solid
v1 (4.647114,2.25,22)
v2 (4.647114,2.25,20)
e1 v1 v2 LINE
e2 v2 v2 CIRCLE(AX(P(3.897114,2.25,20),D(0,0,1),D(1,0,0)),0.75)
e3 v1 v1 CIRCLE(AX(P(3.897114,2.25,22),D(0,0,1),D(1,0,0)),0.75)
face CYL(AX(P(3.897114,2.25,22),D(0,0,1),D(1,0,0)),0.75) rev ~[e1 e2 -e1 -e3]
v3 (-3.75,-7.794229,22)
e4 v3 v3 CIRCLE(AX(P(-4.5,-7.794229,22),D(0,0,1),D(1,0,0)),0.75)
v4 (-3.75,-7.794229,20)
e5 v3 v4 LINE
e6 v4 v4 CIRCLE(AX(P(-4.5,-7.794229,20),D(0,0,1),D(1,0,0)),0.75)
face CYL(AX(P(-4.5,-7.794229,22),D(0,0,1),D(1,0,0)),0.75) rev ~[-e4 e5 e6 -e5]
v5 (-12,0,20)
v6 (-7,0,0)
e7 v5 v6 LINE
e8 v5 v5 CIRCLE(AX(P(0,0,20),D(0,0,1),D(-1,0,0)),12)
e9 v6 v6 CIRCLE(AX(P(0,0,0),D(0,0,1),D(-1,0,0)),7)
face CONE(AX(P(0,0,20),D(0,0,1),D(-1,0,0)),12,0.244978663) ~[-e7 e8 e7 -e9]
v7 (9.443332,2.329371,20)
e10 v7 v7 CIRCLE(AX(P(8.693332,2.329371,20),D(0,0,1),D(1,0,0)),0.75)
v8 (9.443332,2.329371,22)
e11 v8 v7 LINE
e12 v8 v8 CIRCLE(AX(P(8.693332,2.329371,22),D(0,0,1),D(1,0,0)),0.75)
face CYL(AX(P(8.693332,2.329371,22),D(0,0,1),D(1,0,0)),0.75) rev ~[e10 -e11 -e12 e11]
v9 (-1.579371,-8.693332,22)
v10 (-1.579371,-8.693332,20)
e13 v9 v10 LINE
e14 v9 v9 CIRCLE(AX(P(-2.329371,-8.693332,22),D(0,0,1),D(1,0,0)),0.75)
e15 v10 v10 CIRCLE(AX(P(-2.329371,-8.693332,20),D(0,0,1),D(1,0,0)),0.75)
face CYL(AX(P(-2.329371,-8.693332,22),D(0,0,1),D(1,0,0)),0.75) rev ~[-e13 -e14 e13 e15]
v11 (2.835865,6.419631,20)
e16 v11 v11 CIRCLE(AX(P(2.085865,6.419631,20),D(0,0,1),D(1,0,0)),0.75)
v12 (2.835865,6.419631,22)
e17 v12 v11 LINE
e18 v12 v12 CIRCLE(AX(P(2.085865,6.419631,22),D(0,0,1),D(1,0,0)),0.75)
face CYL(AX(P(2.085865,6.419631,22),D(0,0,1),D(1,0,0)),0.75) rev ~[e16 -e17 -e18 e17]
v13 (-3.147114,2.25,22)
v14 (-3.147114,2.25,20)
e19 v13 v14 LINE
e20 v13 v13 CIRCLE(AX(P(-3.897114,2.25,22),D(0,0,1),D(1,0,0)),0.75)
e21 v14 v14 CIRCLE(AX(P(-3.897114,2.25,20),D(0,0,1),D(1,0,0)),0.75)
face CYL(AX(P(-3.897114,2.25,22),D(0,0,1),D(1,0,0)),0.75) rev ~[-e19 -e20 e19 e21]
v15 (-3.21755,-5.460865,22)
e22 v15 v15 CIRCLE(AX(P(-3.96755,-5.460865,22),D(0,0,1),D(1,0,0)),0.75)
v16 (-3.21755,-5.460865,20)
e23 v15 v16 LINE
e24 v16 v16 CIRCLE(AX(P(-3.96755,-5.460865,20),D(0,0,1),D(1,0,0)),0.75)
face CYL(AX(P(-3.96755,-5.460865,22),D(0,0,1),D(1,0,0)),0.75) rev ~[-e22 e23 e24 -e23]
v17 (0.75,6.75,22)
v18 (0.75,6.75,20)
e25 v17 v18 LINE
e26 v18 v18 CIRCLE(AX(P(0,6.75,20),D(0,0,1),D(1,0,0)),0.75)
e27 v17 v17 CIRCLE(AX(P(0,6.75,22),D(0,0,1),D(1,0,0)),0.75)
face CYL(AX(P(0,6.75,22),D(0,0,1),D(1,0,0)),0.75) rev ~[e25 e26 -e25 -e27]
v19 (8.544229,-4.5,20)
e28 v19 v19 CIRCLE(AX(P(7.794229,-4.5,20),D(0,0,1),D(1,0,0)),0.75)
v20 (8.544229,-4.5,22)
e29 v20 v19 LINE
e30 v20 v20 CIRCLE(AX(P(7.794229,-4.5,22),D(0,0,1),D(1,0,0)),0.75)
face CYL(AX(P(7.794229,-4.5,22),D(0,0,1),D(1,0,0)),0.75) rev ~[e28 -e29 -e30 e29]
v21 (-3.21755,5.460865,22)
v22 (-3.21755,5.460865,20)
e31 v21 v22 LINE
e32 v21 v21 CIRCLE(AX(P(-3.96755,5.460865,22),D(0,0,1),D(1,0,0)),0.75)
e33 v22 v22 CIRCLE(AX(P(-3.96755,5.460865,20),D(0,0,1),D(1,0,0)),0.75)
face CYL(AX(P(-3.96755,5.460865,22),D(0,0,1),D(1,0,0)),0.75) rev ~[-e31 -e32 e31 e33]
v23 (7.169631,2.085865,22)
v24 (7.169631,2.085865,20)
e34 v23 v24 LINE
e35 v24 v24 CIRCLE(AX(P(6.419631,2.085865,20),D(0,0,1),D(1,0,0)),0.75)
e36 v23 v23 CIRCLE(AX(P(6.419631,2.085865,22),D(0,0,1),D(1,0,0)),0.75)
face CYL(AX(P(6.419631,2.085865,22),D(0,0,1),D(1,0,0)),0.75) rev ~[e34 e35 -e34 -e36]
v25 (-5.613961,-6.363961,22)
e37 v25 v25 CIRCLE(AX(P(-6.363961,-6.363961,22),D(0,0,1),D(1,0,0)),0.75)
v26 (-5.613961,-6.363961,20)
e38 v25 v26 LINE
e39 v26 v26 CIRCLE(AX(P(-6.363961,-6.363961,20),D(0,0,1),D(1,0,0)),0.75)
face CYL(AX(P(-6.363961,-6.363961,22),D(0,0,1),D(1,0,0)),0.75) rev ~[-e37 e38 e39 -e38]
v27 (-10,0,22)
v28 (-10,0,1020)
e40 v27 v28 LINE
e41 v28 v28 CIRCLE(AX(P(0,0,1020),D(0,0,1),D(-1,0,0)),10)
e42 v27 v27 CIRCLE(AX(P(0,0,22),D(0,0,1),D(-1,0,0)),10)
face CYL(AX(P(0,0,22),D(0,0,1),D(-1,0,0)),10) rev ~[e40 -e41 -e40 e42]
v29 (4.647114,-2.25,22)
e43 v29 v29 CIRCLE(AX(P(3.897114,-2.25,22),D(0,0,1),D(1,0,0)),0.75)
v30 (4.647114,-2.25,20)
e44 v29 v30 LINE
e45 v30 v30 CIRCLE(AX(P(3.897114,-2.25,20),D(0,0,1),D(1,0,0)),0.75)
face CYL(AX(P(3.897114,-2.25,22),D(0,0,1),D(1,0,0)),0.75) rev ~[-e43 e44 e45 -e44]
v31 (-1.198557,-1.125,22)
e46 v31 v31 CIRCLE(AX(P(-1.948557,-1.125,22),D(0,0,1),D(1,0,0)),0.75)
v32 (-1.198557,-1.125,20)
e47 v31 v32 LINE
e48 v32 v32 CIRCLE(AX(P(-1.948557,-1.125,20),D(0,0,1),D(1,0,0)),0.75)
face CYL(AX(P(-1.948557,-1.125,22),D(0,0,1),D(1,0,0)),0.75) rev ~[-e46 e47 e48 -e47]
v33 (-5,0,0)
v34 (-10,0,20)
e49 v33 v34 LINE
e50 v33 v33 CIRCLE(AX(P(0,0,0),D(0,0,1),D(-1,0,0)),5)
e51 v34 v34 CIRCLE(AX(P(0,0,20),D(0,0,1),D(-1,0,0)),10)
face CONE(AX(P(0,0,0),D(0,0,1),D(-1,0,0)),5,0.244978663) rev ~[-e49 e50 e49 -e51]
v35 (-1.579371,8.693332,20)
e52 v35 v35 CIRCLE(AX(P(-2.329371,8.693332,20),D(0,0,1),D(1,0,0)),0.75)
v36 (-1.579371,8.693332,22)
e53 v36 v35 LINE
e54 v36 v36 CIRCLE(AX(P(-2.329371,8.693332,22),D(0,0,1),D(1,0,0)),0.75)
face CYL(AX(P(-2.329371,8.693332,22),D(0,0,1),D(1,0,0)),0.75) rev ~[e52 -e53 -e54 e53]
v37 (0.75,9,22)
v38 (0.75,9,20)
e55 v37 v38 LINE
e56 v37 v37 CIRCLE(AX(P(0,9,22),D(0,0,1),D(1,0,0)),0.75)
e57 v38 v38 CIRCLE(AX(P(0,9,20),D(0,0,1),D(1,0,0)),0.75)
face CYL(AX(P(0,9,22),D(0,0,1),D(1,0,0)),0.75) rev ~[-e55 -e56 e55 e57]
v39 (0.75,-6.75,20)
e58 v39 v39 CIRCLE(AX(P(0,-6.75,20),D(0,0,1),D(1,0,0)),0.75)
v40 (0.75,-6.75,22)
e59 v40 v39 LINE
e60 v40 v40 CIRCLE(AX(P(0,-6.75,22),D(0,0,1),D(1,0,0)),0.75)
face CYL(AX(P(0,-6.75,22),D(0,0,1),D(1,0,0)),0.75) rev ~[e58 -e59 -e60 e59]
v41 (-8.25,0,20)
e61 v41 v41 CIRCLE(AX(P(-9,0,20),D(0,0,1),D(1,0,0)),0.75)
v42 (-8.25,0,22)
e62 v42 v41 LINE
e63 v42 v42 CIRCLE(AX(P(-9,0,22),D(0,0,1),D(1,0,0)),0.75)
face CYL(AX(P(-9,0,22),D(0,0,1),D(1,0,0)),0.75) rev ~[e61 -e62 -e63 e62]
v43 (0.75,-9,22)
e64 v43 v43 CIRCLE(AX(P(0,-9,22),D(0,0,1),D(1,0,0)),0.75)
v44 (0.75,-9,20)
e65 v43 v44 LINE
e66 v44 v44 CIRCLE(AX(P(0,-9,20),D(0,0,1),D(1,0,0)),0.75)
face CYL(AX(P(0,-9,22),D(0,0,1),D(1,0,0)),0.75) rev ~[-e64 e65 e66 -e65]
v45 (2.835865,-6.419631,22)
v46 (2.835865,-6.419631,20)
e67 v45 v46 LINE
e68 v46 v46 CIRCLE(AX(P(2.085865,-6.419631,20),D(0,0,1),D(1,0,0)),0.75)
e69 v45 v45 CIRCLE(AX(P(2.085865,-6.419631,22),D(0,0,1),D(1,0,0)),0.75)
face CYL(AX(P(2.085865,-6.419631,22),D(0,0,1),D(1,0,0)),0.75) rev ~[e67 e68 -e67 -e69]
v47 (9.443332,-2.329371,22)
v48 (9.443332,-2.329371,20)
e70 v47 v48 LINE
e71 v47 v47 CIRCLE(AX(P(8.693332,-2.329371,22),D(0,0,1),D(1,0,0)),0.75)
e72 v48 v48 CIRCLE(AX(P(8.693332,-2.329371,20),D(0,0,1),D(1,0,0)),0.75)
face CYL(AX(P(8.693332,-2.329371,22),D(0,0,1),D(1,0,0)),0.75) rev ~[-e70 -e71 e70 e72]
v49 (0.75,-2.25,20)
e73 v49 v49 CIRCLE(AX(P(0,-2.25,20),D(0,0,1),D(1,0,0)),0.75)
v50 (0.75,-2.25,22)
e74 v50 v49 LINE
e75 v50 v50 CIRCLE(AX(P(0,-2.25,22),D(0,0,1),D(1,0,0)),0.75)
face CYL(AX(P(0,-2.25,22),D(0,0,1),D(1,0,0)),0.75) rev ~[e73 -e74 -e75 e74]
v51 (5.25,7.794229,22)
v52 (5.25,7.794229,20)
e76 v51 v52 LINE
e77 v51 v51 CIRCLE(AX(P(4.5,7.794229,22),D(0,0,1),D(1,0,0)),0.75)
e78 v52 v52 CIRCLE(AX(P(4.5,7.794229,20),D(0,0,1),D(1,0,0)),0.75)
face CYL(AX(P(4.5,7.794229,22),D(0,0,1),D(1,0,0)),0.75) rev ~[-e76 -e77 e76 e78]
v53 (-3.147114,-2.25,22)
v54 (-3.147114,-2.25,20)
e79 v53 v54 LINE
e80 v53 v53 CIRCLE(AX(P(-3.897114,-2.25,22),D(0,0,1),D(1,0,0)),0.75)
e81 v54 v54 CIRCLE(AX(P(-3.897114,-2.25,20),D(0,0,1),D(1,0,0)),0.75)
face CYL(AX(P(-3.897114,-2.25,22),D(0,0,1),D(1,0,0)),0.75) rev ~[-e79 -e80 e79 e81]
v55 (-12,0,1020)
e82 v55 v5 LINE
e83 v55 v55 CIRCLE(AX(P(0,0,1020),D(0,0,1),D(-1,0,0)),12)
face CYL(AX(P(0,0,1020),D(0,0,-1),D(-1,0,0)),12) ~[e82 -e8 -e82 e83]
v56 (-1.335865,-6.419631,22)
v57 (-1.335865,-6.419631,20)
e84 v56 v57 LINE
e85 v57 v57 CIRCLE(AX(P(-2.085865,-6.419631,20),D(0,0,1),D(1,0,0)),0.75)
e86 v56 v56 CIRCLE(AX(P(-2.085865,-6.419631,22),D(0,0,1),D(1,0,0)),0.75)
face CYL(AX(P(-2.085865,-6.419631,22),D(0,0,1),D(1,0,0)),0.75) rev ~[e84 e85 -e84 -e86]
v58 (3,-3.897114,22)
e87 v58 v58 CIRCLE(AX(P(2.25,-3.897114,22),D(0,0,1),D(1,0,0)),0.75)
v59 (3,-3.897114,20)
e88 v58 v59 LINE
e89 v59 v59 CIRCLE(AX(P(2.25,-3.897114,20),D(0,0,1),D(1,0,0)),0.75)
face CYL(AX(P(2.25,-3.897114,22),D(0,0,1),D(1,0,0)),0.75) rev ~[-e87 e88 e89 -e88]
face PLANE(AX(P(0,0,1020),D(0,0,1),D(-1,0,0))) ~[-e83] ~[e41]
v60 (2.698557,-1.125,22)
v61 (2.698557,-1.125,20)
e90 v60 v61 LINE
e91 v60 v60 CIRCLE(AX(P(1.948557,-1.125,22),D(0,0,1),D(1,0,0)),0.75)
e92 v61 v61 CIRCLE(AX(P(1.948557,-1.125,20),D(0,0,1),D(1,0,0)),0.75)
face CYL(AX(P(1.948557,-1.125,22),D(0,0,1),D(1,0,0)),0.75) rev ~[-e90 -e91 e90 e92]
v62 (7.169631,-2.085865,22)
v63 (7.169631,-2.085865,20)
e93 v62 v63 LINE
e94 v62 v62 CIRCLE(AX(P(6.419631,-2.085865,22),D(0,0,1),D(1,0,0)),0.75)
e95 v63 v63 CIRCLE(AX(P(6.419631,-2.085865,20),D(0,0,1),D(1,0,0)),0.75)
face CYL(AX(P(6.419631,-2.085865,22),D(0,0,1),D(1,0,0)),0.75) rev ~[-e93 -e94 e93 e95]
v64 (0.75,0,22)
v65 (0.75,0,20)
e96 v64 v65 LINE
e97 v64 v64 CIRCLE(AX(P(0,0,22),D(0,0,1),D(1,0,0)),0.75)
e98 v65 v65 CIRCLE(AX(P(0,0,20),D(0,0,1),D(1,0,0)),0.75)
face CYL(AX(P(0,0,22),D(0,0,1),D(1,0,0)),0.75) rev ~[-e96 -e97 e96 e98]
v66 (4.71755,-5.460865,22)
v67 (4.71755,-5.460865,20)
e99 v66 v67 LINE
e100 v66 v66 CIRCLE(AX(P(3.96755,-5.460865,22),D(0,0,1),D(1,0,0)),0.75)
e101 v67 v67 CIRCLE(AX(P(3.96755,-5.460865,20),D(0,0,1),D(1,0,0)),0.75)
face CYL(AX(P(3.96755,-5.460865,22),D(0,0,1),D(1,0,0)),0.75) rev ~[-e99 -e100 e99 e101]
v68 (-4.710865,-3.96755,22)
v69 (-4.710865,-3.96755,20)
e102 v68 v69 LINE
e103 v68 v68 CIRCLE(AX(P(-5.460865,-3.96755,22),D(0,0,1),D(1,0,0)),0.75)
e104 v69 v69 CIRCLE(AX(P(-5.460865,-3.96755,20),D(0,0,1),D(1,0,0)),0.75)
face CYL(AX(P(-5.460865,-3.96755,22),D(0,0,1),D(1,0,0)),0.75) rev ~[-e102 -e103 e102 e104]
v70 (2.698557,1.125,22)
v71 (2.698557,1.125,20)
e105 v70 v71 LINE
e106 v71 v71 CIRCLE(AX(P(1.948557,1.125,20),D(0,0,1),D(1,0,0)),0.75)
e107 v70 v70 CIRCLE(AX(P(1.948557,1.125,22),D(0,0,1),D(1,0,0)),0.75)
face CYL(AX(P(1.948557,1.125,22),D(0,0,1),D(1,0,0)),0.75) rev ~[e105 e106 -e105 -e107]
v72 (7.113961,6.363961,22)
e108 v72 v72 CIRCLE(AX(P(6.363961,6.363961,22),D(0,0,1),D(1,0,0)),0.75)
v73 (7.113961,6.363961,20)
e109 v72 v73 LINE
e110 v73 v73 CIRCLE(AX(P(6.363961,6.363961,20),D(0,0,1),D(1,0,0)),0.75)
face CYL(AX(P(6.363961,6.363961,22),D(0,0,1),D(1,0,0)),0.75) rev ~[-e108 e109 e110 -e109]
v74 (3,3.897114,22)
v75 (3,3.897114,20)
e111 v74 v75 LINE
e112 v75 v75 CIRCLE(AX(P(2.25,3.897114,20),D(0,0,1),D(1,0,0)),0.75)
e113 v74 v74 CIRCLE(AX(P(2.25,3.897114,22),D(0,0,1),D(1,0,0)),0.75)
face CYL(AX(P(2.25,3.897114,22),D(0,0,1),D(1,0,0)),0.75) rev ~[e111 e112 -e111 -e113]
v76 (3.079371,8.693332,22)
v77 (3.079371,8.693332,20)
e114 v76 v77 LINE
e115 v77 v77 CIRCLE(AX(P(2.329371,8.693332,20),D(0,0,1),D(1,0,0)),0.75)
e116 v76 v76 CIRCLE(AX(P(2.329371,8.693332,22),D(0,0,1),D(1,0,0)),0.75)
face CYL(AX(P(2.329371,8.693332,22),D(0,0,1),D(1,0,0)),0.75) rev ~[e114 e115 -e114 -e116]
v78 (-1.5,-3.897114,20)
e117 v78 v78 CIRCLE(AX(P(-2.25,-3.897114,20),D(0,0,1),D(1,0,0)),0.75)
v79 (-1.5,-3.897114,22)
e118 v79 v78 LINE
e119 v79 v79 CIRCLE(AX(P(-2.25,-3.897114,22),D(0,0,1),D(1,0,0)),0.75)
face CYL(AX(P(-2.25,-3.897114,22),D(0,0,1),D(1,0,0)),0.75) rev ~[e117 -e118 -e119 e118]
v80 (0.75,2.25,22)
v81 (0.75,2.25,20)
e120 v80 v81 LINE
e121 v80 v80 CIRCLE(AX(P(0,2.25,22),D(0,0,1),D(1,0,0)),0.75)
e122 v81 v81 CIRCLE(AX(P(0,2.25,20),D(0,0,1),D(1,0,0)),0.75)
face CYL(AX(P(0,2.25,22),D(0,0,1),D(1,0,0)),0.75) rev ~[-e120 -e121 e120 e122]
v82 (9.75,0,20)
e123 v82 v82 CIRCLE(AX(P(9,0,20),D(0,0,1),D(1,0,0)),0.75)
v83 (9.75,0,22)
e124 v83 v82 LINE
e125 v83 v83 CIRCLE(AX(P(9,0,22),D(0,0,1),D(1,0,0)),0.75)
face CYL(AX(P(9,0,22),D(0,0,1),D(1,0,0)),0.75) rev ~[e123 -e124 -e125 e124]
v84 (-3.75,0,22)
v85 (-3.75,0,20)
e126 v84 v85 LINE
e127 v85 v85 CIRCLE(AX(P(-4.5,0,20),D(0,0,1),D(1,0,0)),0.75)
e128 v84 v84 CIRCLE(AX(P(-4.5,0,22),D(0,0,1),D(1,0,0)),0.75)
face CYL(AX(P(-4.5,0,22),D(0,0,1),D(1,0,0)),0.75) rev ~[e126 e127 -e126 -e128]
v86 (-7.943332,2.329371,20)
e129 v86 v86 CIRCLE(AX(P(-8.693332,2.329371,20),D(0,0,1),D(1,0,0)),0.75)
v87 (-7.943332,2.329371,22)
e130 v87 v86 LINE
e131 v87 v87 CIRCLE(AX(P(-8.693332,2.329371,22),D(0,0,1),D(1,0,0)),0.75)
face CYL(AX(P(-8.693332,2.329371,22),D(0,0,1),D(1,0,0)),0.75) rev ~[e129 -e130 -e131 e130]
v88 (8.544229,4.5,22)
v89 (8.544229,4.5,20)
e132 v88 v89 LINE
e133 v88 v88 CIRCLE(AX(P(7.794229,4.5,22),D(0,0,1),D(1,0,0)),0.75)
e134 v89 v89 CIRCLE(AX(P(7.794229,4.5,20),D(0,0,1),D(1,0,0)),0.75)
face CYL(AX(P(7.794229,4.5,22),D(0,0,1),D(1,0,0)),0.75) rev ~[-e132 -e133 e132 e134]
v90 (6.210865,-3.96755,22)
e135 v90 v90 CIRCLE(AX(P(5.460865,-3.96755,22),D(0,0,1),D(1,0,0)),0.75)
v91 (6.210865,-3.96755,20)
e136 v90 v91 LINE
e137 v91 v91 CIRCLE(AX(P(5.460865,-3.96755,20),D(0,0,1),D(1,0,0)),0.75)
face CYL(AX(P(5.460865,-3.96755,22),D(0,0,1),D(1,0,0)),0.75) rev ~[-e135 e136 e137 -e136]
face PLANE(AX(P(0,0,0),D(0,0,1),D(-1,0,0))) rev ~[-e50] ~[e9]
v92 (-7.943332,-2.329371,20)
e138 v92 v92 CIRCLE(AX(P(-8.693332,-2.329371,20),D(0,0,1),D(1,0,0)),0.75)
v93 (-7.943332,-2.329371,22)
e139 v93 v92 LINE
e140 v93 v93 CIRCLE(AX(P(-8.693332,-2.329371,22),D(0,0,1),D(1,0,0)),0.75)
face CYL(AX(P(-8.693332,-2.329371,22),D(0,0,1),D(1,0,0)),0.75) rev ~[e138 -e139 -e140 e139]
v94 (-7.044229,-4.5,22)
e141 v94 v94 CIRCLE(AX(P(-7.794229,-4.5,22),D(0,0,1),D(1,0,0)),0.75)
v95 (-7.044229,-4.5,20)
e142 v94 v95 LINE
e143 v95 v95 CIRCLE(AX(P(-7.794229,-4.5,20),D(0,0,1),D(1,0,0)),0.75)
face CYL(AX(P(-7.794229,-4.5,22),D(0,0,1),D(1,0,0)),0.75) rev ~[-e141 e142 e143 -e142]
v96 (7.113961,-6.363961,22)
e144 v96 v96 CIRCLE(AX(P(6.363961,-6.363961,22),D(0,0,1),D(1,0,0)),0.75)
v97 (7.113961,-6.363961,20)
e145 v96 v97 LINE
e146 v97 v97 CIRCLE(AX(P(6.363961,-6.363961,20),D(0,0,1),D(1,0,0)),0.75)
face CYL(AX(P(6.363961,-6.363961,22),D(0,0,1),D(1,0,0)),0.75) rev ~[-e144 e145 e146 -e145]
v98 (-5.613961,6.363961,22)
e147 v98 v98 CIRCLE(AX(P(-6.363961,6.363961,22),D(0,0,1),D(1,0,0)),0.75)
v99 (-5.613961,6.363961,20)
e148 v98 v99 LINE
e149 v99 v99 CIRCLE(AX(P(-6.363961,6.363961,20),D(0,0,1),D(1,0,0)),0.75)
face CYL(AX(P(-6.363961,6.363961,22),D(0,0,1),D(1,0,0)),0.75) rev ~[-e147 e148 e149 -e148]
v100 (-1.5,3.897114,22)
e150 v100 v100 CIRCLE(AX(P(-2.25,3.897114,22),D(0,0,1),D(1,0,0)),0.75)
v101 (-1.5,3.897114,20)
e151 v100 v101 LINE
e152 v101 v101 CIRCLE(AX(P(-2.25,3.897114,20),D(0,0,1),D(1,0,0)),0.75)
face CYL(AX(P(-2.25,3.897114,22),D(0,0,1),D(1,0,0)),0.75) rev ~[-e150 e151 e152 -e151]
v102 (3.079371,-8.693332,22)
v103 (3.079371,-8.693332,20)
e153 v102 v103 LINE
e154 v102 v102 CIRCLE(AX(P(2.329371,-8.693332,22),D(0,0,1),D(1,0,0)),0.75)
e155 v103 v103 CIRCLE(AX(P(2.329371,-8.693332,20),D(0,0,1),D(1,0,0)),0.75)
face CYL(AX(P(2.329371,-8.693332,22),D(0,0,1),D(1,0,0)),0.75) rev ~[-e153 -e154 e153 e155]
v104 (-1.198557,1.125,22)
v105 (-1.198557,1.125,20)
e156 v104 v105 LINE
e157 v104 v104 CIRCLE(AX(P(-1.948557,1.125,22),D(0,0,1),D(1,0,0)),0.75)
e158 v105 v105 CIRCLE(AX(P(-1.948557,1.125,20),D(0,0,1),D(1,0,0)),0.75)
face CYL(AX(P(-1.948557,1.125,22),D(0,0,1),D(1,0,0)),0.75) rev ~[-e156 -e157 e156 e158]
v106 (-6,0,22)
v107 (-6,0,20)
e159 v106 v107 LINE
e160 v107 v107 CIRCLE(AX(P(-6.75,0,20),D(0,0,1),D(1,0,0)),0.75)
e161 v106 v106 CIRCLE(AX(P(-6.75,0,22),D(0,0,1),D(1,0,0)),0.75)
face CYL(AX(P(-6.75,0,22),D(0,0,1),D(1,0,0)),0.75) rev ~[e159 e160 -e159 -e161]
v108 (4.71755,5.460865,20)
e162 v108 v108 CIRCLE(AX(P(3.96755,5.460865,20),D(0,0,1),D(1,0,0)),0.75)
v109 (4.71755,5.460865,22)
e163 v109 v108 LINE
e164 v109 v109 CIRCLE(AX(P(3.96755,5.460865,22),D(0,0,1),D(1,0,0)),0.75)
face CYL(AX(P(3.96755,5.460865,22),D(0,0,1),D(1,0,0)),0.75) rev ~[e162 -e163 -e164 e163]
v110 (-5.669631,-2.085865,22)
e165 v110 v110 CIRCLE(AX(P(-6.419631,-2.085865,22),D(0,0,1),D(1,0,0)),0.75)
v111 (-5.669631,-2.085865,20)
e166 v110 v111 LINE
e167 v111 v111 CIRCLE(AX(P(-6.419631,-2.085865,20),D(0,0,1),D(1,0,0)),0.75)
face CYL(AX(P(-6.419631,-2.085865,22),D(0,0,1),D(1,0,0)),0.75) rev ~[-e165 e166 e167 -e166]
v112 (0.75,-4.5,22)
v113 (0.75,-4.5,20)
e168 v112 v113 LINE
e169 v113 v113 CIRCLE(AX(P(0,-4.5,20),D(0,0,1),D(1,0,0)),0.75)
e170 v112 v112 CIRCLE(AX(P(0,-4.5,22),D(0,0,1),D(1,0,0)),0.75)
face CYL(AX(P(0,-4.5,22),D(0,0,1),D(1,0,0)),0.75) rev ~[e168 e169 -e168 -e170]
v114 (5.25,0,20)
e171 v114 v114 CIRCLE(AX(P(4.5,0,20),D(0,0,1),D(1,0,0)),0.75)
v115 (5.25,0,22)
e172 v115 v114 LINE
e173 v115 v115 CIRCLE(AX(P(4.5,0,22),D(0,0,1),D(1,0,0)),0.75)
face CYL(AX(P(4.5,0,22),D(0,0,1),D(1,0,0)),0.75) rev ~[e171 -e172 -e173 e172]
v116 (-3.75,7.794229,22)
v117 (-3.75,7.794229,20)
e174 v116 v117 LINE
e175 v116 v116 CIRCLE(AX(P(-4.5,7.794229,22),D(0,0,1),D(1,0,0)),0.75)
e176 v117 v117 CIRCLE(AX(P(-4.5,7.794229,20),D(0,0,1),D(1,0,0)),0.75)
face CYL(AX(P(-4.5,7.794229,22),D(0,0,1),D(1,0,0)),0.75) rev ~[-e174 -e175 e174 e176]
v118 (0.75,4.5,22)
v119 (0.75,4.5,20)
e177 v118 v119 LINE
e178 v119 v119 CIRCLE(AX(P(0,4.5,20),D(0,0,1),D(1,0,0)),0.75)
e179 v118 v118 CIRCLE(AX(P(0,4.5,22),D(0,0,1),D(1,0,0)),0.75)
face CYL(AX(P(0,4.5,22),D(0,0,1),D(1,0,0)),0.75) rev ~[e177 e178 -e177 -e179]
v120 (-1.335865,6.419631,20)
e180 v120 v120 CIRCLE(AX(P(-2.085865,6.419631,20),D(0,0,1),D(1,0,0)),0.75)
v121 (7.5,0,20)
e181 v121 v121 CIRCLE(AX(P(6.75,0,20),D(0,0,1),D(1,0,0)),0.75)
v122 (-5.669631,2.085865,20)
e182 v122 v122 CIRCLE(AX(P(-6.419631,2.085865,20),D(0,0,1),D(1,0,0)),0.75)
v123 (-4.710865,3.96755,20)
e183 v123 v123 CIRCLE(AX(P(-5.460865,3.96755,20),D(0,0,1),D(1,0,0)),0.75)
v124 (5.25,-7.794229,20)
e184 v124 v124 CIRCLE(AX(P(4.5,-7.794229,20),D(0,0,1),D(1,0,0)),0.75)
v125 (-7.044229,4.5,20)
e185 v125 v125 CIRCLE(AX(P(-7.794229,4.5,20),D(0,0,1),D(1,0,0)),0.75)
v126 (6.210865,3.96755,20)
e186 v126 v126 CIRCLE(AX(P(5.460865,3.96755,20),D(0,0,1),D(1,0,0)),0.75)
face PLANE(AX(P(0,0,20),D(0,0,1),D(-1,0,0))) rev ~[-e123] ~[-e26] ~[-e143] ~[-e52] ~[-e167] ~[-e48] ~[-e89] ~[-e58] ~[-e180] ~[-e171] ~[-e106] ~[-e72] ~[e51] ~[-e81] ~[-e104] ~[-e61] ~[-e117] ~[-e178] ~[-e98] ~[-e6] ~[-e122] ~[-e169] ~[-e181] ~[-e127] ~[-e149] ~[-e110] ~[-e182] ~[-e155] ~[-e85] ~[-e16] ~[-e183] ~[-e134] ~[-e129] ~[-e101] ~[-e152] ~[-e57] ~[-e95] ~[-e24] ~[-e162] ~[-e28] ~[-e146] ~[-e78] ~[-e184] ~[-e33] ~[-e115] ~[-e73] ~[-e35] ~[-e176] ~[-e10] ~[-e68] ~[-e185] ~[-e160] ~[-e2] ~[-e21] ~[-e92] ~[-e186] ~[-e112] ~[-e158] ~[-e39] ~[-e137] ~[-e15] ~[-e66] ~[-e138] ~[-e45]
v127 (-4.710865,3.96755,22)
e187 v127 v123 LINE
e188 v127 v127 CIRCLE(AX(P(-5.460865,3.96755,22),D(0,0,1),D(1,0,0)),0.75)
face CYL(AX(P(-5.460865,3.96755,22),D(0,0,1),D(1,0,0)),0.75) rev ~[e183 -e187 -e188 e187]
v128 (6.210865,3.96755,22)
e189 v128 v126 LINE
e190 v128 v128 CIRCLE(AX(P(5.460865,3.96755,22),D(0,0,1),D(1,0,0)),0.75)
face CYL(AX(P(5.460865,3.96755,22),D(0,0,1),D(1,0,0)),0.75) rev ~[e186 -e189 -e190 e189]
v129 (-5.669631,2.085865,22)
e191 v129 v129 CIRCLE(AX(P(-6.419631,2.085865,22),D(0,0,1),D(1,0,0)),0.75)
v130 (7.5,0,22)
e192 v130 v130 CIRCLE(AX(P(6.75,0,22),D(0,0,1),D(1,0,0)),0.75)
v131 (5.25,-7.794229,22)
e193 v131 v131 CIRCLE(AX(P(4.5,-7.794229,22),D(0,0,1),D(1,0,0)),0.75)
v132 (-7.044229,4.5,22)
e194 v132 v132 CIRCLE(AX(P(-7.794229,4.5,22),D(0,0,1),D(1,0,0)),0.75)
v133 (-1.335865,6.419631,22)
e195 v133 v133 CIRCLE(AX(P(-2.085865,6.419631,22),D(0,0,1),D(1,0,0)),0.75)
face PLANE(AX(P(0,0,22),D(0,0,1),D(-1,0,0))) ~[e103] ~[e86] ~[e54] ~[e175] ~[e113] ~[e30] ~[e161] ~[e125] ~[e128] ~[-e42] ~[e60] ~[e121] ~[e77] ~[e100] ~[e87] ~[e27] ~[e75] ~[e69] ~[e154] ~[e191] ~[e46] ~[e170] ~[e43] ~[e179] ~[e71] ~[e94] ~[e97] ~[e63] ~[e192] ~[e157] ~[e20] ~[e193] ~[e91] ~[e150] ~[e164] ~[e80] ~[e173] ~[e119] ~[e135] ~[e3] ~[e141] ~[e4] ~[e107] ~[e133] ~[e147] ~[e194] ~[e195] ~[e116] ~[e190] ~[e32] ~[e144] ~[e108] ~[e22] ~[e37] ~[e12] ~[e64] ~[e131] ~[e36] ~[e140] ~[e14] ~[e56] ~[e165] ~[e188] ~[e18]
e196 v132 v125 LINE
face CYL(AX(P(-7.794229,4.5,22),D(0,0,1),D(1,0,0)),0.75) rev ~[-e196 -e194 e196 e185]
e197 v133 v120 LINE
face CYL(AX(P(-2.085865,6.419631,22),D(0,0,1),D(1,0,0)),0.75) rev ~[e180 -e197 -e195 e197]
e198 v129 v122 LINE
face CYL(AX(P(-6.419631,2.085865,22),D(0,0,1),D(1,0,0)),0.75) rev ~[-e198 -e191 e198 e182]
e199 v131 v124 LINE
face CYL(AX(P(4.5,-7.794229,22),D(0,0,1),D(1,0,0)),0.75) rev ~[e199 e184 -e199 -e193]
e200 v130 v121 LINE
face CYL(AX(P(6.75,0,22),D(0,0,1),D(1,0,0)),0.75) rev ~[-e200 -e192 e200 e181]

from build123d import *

# Parameters (mm, degrees)
F2_R     = 0.75
F3_DEPTH = 2


with BuildPart() as f1:
    # F0 (on Front) → F1 (revolve)
    with BuildSketch(Plane.XZ):
        Polygon((-10, 22), (-10, 1020), (-12, 1020), (-12, 20), (-7, 0), (-5, 0), (-10, 20), (0, 20), (0, 22), align=None)
    revolve(axis=Axis((0, 0, 510), (0, 0, 1)))

    # F2 (on face) → F3 (cut, through all)
    with BuildSketch(Plane.XY.offset(22)):
        with Locations((-3.96755, 5.460865)):
            Circle(F2_R)
        with Locations((-6.363961, 6.363961)):
            Circle(F2_R)
        with Locations((-4.5, 7.794229)):
            Circle(F2_R)
        with Locations((-2.085865, 6.419631)):
            Circle(F2_R)
        with Locations((-2.329371, 8.693332)):
            Circle(F2_R)
        with Locations((0, 9)):
            Circle(F2_R)
        with Locations((0, 6.75)):
            Circle(F2_R)
        with Locations((2.085865, 6.419631)):
            Circle(F2_R)
        with Locations((2.329371, 8.693332)):
            Circle(F2_R)
        with Locations((4.5, 7.794229)):
            Circle(F2_R)
        with Locations((6.363961, 6.363961)):
            Circle(F2_R)
        with Locations((3.96755, 5.460865)):
            Circle(F2_R)
        with Locations((5.460865, 3.96755)):
            Circle(F2_R)
        with Locations((7.794229, 4.5)):
            Circle(F2_R)
        with Locations((8.693332, 2.329371)):
            Circle(F2_R)
        with Locations((6.419631, 2.085865)):
            Circle(F2_R)
        with Locations((3.897114, 2.25)):
            Circle(F2_R)
        with Locations((1.948557, 1.125)):
            Circle(F2_R)
        with Locations((2.25, 3.897114)):
            Circle(F2_R)
        with Locations((0, 4.5)):
            Circle(F2_R)
        with Locations((0, 2.25)):
            Circle(F2_R)
        with Locations((-2.25, 3.897114)):
            Circle(F2_R)
        with Locations((-1.948557, 1.125)):
            Circle(F2_R)
        with Locations((-3.897114, 2.25)):
            Circle(F2_R)
        with Locations((-5.460865, 3.96755)):
            Circle(F2_R)
        with Locations((-7.794229, 4.5)):
            Circle(F2_R)
        with Locations((-8.693332, 2.329371)):
            Circle(F2_R)
        with Locations((-6.419631, 2.085865)):
            Circle(F2_R)
        with Locations((-4.5, 0)):
            Circle(F2_R)
        Circle(F2_R)
        with Locations((4.5, 0)):
            Circle(F2_R)
        with Locations((6.75, 0)):
            Circle(F2_R)
        with Locations((9, 0)):
            Circle(F2_R)
        with Locations((1.948557, -1.125)):
            Circle(F2_R)
        with Locations((3.897114, -2.25)):
            Circle(F2_R)
        with Locations((6.419631, -2.085865)):
            Circle(F2_R)
        with Locations((8.693332, -2.329371)):
            Circle(F2_R)
        with Locations((7.794229, -4.5)):
            Circle(F2_R)
        with Locations((6.363961, -6.363961)):
            Circle(F2_R)
        with Locations((5.460865, -3.96755)):
            Circle(F2_R)
        with Locations((3.96755, -5.460865)):
            Circle(F2_R)
        with Locations((4.5, -7.794229)):
            Circle(F2_R)
        with Locations((2.329371, -8.693332)):
            Circle(F2_R)
        with Locations((0, -9)):
            Circle(F2_R)
        with Locations((2.085865, -6.419631)):
            Circle(F2_R)
        with Locations((2.25, -3.897114)):
            Circle(F2_R)
        with Locations((0, -6.75)):
            Circle(F2_R)
        with Locations((0, -4.5)):
            Circle(F2_R)
        with Locations((0, -2.25)):
            Circle(F2_R)
        with Locations((-1.948557, -1.125)):
            Circle(F2_R)
        with Locations((-2.25, -3.897114)):
            Circle(F2_R)
        with Locations((-2.085865, -6.419631)):
            Circle(F2_R)
        with Locations((-2.329371, -8.693332)):
            Circle(F2_R)
        with Locations((-4.5, -7.794229)):
            Circle(F2_R)
        with Locations((-3.96755, -5.460865)):
            Circle(F2_R)
        with Locations((-3.897114, -2.25)):
            Circle(F2_R)
        with Locations((-5.460865, -3.96755)):
            Circle(F2_R)
        with Locations((-6.363961, -6.363961)):
            Circle(F2_R)
        with Locations((-7.794229, -4.5)):
            Circle(F2_R)
        with Locations((-8.693332, -2.329371)):
            Circle(F2_R)
        with Locations((-6.419631, -2.085865)):
            Circle(F2_R)
        with Locations((-6.75, 0)):
            Circle(F2_R)
        with Locations((-9, 0)):
            Circle(F2_R)
    extrude(amount=-F3_DEPTH, mode=Mode.SUBTRACT)


solid = f1.part
